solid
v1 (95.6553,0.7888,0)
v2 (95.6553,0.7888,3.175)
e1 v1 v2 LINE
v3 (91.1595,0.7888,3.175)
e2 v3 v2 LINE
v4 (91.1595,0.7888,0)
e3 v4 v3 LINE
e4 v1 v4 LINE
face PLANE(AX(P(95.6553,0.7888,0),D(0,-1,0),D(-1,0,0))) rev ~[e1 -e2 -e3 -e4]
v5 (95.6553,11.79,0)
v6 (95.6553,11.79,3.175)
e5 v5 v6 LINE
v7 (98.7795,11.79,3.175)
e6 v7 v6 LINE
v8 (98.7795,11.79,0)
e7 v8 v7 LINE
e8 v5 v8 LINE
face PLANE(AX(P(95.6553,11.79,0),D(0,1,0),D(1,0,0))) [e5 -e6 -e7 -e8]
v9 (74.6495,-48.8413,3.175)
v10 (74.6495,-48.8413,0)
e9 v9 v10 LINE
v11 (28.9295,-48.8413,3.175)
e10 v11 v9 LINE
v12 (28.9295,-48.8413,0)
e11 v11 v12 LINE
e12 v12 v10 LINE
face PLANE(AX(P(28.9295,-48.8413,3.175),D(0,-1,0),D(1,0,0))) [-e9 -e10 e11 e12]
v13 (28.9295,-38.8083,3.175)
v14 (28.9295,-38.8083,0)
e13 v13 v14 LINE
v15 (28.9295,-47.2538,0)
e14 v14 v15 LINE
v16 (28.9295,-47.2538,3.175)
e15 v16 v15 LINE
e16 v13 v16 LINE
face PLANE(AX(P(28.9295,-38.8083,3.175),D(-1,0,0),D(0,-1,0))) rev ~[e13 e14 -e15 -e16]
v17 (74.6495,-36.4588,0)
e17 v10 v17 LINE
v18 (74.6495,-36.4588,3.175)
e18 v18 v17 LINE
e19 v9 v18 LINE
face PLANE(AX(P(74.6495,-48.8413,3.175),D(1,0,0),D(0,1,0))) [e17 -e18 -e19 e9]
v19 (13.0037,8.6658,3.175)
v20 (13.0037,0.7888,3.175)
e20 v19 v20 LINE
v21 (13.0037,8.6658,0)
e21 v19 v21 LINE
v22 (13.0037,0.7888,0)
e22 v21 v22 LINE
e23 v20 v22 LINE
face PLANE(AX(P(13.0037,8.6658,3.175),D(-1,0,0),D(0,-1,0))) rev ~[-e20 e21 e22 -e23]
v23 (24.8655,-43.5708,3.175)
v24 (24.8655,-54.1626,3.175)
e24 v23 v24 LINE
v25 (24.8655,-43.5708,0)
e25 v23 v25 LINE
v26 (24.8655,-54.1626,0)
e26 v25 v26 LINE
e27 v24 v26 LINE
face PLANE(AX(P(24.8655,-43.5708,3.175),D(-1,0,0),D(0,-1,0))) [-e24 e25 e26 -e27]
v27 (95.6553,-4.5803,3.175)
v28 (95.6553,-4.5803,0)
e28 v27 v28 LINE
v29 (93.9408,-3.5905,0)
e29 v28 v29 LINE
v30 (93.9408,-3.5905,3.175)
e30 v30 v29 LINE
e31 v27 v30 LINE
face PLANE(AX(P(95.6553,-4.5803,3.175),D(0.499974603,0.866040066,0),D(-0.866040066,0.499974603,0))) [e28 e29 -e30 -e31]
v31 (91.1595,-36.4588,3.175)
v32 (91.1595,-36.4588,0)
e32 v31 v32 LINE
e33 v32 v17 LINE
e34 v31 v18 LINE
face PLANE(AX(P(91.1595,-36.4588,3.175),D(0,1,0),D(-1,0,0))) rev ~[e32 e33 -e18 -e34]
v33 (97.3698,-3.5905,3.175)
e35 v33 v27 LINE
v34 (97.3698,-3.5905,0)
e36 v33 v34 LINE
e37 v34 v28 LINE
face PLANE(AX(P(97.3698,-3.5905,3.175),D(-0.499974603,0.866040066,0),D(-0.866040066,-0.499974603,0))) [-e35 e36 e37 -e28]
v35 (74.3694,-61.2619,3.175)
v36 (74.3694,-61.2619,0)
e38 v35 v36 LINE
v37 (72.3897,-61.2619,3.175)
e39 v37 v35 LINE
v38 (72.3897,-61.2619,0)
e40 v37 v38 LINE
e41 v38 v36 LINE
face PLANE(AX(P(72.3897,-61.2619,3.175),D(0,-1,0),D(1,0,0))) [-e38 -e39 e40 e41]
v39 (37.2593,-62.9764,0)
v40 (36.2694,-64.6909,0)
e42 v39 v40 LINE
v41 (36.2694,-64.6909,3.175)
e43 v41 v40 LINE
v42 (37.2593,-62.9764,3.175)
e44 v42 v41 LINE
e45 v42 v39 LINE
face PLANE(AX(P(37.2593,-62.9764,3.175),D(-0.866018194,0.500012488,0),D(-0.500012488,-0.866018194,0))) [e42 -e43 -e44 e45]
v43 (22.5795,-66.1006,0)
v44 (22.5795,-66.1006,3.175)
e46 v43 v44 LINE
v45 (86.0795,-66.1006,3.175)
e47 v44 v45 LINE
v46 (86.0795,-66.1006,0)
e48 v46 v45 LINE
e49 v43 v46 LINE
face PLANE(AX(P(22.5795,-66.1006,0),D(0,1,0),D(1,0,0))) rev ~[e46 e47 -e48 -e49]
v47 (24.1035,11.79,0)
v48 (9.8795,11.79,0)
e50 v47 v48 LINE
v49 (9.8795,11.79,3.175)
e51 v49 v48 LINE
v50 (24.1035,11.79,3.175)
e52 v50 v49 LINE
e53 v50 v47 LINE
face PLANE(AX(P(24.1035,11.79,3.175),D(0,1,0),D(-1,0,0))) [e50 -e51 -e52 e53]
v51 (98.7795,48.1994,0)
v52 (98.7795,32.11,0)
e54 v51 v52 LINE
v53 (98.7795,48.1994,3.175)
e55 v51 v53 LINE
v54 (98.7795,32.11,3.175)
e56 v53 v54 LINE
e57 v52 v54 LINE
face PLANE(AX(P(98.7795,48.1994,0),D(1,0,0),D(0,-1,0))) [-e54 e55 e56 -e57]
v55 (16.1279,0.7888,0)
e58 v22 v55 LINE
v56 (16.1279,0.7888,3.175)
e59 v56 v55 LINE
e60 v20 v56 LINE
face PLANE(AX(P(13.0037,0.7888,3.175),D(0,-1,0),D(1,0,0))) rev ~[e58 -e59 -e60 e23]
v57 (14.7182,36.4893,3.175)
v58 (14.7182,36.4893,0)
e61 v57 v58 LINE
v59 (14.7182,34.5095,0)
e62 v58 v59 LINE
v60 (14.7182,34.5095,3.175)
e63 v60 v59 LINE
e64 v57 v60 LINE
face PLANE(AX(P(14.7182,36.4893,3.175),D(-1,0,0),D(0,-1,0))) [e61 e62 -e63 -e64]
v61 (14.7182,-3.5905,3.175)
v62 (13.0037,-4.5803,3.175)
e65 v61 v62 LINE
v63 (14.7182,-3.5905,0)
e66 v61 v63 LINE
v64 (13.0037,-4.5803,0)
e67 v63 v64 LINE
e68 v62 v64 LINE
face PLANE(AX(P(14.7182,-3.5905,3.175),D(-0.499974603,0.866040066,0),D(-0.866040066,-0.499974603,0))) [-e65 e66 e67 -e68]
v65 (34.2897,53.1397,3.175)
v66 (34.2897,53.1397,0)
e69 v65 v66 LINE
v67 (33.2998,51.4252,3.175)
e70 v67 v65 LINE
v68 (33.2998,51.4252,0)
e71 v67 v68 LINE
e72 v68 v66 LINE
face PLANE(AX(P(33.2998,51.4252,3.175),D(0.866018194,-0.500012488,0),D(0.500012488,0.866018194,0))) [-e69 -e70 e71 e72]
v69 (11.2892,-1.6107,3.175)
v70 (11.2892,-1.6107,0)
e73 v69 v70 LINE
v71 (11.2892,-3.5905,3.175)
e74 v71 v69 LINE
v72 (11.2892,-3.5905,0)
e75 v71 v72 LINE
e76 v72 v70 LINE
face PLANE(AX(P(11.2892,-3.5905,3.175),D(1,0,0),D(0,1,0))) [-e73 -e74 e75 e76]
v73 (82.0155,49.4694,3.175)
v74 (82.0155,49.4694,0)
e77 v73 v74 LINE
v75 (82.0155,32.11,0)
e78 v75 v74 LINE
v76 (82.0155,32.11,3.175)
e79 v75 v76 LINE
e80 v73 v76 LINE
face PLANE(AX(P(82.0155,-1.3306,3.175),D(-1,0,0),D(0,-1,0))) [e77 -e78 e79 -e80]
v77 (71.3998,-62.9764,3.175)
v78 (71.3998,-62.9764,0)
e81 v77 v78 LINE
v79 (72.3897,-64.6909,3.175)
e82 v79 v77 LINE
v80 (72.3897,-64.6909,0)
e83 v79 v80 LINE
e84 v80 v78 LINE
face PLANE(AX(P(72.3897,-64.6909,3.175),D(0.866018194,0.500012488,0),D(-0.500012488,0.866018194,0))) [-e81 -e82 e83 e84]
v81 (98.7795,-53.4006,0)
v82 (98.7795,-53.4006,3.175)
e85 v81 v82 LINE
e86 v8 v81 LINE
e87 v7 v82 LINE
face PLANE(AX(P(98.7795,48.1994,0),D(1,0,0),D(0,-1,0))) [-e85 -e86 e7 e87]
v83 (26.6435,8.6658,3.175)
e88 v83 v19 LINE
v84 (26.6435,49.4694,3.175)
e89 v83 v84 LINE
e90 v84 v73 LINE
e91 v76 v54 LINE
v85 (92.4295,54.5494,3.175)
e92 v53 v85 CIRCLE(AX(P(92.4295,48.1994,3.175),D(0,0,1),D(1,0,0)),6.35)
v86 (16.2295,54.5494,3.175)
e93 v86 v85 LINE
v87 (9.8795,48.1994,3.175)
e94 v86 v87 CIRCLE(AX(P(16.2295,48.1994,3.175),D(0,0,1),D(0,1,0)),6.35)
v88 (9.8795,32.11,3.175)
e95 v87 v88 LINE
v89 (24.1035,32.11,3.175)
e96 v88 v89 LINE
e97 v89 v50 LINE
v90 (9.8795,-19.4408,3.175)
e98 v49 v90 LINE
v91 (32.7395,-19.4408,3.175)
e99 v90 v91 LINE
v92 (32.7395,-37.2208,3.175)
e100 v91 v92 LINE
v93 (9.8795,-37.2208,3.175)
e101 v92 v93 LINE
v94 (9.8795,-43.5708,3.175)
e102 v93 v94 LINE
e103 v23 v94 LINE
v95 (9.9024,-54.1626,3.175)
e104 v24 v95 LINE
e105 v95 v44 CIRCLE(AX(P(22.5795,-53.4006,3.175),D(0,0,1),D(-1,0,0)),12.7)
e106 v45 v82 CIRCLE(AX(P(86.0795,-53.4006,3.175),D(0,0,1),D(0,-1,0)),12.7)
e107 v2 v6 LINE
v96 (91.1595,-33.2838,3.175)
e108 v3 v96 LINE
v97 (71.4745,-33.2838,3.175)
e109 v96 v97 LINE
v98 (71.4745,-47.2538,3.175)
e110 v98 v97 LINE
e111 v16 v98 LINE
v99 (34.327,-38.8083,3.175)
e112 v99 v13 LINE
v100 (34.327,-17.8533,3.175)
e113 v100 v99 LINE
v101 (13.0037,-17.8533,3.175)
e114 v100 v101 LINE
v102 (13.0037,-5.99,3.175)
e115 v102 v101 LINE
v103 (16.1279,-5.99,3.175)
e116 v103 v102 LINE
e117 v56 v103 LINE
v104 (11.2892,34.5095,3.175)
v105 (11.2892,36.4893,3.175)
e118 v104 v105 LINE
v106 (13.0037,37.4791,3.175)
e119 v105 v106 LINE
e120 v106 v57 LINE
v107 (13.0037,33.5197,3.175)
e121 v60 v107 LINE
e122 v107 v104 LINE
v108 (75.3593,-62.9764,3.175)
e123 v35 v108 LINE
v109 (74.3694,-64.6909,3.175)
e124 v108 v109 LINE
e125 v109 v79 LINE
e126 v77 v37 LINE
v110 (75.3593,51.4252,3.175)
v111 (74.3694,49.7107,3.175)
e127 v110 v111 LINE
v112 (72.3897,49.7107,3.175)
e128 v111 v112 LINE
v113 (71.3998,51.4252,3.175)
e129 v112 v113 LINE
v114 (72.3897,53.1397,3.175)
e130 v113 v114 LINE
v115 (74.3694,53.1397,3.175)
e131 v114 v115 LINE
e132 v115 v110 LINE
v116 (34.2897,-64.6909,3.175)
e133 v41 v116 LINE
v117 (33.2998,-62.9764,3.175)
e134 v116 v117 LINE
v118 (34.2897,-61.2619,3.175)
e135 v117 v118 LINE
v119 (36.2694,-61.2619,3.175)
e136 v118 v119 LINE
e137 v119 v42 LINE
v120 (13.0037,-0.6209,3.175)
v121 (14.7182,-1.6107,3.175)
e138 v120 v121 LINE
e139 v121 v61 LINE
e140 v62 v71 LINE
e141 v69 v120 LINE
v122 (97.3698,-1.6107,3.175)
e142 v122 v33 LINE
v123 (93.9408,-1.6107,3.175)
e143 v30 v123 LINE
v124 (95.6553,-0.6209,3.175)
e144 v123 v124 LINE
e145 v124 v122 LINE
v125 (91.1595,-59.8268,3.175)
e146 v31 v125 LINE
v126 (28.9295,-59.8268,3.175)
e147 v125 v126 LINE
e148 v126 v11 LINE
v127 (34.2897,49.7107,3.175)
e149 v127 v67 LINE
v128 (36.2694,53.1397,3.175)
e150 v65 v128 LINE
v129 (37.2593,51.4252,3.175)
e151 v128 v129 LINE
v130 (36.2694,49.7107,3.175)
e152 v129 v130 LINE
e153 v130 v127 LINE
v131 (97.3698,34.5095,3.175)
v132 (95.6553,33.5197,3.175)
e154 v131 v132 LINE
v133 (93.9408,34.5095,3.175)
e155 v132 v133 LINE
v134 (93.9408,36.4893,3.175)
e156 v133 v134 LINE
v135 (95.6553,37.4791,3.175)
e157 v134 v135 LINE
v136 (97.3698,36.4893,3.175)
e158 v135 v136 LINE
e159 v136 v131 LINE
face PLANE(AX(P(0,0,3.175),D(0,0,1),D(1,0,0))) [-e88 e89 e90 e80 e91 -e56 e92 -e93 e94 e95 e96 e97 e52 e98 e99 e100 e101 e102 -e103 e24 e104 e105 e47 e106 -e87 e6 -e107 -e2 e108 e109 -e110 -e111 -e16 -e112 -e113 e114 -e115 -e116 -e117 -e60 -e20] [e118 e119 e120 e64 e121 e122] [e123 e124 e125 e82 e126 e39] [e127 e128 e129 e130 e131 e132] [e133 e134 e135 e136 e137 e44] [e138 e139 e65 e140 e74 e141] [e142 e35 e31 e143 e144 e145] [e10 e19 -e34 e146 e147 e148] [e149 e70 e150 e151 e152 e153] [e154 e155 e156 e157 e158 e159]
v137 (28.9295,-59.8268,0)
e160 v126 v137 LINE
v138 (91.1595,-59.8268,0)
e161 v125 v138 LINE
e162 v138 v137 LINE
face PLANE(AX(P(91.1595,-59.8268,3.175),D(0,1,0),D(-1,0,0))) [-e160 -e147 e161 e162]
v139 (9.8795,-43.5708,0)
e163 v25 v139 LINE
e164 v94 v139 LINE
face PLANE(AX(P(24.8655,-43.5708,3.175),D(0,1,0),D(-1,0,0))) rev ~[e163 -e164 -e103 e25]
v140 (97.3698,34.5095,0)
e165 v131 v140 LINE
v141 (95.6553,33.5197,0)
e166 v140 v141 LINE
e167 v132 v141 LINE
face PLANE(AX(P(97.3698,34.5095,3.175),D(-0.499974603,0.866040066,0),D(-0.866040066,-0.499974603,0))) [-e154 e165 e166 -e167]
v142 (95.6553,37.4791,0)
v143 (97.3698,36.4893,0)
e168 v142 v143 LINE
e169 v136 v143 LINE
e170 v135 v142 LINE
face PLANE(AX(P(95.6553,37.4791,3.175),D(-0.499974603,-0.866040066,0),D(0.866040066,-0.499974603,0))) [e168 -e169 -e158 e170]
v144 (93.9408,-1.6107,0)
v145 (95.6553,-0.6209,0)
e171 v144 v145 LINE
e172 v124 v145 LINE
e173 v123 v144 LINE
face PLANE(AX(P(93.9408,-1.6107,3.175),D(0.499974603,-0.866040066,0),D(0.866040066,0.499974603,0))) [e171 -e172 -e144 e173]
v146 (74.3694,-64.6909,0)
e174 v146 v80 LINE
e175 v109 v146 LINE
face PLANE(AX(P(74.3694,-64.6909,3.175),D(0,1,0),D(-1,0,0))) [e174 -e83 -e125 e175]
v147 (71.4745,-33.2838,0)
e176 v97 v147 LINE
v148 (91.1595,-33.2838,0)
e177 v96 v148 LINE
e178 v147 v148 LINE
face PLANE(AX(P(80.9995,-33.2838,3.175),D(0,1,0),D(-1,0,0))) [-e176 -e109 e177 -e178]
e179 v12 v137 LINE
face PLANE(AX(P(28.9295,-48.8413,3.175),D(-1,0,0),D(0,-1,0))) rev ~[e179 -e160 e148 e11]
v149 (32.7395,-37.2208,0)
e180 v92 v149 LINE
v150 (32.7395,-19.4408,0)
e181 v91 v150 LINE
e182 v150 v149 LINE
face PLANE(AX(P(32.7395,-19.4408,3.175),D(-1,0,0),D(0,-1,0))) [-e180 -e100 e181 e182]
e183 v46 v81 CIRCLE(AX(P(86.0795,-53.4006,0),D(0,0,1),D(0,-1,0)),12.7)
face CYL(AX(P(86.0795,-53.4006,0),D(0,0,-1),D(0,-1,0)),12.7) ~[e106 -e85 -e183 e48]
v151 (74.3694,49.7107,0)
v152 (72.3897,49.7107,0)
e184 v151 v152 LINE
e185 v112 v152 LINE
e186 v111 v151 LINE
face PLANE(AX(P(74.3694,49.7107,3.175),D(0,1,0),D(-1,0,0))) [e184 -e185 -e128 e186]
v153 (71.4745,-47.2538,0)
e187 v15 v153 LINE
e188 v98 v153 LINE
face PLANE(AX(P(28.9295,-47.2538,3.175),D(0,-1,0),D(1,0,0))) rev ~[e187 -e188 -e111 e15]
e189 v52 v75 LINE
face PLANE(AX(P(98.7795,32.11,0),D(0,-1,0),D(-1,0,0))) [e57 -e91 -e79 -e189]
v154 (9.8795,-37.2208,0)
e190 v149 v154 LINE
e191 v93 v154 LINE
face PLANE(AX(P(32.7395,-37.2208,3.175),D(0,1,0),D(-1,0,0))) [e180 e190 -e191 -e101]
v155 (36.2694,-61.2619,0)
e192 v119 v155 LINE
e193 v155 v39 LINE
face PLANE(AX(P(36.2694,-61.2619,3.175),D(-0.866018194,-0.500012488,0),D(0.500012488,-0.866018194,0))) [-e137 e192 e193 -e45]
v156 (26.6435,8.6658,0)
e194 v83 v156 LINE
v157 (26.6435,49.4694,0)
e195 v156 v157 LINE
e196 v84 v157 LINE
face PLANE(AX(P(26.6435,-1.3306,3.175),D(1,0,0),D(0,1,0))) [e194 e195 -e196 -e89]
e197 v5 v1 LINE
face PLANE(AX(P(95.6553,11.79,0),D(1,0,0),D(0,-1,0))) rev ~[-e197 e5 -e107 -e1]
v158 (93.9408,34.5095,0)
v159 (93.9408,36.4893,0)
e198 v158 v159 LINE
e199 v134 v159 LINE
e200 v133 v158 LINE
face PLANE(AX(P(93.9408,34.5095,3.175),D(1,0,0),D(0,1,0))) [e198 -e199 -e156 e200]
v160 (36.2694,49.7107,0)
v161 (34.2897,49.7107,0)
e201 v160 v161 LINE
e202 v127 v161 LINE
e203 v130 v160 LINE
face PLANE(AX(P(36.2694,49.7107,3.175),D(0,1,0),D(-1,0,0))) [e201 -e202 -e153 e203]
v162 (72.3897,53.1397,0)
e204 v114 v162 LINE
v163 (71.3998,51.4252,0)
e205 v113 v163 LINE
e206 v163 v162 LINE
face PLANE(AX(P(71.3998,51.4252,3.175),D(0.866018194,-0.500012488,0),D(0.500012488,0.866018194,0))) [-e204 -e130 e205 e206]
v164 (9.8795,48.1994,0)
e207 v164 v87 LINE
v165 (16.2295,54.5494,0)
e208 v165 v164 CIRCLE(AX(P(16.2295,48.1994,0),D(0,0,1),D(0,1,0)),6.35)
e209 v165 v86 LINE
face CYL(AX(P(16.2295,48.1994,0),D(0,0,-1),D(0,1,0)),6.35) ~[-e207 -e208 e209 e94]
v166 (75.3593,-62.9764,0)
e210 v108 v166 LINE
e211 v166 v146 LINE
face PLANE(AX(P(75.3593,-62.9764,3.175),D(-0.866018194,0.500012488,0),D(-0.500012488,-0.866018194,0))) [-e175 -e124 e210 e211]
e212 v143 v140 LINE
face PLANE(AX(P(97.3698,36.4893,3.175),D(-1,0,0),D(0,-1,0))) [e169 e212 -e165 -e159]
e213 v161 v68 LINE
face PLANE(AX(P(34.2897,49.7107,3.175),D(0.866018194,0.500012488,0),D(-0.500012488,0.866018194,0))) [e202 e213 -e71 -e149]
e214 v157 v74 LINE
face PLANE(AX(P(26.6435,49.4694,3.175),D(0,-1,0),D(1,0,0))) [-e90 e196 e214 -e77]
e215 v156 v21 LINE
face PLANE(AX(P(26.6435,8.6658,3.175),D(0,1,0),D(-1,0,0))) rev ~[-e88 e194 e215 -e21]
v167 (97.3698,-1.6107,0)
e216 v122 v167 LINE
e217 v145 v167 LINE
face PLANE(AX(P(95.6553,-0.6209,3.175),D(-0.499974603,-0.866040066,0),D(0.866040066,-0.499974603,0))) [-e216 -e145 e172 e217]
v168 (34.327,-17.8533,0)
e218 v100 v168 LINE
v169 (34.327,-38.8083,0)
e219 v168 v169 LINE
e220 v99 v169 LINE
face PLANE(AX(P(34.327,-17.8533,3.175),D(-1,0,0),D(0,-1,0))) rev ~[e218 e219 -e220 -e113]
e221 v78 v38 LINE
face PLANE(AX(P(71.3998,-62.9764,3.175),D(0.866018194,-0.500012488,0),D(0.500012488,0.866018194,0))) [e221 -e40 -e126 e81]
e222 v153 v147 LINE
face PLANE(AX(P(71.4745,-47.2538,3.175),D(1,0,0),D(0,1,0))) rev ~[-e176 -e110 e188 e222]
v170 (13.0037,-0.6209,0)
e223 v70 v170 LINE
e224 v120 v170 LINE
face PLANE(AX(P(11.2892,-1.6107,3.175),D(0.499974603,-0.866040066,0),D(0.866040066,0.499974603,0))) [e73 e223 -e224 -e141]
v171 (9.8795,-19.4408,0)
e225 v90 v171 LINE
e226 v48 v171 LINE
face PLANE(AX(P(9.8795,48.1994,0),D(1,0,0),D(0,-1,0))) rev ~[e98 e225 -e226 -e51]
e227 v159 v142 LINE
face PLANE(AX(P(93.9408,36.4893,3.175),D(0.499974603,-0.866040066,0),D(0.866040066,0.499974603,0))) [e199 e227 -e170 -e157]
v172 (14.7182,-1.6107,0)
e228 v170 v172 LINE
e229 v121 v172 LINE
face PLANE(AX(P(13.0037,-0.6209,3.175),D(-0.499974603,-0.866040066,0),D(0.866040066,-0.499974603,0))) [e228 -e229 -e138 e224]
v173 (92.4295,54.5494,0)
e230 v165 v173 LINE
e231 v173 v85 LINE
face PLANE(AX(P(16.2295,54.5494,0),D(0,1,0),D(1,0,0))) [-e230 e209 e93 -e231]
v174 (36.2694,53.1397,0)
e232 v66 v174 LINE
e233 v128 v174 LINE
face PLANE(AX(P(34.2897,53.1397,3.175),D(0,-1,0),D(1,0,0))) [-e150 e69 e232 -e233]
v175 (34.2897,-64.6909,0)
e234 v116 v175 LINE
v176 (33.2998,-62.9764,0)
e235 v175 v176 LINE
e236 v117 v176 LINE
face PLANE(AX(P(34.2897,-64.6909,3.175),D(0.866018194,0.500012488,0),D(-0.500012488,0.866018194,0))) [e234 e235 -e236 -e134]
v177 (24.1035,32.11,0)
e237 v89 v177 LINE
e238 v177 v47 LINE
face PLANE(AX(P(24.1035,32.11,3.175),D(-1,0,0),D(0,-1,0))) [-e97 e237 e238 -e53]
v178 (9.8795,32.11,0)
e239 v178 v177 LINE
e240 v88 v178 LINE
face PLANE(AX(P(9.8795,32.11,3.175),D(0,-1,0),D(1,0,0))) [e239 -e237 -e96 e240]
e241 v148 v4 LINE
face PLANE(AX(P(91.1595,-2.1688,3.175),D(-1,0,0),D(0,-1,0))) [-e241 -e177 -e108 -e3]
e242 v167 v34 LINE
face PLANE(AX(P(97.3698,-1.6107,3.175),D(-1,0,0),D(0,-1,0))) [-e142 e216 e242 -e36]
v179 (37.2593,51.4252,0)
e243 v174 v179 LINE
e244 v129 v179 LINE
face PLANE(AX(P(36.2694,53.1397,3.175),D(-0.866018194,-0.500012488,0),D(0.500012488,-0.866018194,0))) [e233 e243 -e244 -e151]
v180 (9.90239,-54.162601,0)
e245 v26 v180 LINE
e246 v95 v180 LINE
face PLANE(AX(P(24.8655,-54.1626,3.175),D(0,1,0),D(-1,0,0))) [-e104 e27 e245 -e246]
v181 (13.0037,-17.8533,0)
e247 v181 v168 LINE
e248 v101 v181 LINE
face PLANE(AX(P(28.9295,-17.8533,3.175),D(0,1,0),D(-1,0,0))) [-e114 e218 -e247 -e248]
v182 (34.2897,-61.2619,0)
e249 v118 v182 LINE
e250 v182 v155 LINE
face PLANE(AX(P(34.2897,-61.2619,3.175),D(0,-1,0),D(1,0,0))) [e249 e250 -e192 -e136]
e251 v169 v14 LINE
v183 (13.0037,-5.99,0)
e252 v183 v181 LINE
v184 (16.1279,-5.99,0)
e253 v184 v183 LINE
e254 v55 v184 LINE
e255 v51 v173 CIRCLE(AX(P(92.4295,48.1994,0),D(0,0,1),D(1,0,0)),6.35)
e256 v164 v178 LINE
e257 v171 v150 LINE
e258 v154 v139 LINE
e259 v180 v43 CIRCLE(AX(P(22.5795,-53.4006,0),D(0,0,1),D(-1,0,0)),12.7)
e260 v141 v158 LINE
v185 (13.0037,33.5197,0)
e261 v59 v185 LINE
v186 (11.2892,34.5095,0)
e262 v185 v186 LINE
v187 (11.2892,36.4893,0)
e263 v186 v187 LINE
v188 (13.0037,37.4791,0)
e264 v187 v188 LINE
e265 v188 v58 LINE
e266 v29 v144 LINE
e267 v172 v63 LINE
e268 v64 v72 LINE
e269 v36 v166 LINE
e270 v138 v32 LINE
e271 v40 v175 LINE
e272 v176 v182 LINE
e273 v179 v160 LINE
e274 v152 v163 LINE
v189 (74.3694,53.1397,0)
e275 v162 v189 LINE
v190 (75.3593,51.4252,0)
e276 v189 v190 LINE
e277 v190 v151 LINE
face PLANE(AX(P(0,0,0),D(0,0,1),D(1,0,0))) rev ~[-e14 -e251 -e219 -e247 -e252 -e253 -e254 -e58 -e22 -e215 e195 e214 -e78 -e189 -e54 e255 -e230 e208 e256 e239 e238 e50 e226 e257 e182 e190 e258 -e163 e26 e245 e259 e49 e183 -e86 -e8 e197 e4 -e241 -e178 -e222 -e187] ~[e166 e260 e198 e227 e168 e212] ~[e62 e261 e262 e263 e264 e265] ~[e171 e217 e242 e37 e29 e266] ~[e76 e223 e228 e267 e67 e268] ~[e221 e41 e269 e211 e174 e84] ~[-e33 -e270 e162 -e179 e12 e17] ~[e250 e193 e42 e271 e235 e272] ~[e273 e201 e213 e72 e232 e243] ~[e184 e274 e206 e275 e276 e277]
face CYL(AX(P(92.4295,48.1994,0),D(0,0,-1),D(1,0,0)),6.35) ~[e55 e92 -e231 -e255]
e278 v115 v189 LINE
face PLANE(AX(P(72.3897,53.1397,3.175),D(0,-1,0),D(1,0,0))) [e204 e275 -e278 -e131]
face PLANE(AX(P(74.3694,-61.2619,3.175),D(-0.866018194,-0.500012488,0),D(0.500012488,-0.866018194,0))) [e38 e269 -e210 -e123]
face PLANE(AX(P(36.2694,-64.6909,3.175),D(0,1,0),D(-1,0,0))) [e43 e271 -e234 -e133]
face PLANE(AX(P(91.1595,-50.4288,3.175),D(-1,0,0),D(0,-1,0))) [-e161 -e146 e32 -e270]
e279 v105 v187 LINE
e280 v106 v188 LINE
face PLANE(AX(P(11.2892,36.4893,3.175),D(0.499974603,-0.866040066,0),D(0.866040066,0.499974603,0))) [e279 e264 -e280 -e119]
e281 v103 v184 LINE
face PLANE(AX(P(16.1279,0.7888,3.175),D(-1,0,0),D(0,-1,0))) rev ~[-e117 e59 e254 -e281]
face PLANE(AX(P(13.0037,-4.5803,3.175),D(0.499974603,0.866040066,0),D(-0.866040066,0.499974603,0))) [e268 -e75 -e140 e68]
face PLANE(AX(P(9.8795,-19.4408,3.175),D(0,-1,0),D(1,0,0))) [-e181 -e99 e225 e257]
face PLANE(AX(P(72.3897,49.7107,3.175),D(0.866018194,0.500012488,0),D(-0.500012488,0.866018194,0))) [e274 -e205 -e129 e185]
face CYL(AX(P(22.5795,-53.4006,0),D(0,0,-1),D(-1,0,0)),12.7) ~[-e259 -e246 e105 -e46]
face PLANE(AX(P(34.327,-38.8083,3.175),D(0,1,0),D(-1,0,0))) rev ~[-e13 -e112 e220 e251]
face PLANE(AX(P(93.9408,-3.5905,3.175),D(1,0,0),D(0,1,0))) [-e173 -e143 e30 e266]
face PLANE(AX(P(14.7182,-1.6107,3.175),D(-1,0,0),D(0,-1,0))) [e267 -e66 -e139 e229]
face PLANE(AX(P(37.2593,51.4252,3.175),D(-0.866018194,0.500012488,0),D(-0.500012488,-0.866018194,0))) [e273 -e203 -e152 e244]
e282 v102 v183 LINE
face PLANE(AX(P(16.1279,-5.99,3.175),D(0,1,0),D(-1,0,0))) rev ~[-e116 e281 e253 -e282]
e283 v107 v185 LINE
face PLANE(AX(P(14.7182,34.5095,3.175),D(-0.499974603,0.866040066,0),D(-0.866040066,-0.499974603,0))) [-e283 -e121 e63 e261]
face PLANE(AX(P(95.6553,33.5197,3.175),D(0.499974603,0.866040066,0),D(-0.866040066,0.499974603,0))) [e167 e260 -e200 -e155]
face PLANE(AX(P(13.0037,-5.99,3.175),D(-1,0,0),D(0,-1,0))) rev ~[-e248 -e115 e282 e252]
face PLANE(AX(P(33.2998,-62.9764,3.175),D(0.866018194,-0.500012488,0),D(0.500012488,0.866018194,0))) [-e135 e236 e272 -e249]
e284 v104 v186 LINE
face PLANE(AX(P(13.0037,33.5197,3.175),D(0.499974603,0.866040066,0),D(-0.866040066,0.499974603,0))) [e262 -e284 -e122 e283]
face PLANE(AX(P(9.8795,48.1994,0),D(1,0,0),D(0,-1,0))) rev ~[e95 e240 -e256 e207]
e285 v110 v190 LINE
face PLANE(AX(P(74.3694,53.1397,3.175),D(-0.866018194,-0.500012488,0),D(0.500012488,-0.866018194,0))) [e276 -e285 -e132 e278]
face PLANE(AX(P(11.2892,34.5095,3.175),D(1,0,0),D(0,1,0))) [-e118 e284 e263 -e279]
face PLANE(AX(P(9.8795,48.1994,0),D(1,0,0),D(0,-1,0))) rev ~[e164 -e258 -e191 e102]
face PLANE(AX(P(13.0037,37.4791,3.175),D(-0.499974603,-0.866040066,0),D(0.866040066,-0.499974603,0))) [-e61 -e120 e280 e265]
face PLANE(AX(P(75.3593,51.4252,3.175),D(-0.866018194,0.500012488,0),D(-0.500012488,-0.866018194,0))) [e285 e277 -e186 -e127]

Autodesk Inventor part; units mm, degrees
ref_plane "YZ Plane" through (0, 0, 0) normal (1, 0, 0) x (0, 1, 0)
ref_plane "XZ Plane" through (0, 0, 0) normal (0, 1, 0) x (-1, 0, 0)
ref_plane "XY Plane" through (0, 0, 0) normal (0, 0, 1) x (1, 0, 0)
sketch "Sketch1" plane through (0, 0, 0) normal (0, 0, 1) x (1, 0, 0)
  line L0 (9.8795, 48.1994) -> (9.8795, -53.4006)
  line L1 (16.2295, 54.5494) -> (92.4295, 54.5494)
  line L2 (98.7795, 48.1994) -> (98.7795, -53.4006)
  line L3 (22.5795, -66.1006) -> (86.0795, -66.1006)
  arc A0 (9.8795, -53.4006) -> (22.5795, -66.1006) centre (22.5795, -53.4006) ccw
  arc A1 (16.2295, 54.5494) -> (9.8795, 48.1994) centre (16.2295, 48.1994) ccw
  arc A2 (98.7795, 48.1994) -> (92.4295, 54.5494) centre (92.4295, 48.1994) ccw
  arc A3 (86.0795, -66.1006) -> (98.7795, -53.4006) centre (86.0795, -53.4006) ccw
  point P0 (0, 0)
  dimension "d0" = 12.7
  dimension "d1" = 6.35
  dimension "d2" = 120.65
  dimension "d3" = 88.9
extrude "Extrusion1" add sketch "Sketch1" along normal blind 3.175
sketch "Sketch2" plane through (0, 0, 3.175) normal (0, 0, 1) x (1, 0, 0)
  line L0 (9.8795, -53.4006) -> (9.8795, 48.1994) projected
  line L1 (98.7795, 48.1994) -> (98.7795, -53.4006) projected
  line L2 (16.2295, 54.5494) -> (92.4295, 54.5494) projected
  line L3 (26.6435, 49.4694) -> (82.0155, 49.4694)
  line L4 (82.0155, 49.4694) -> (82.0155, -1.3306)
  line L5 (82.0155, -1.3306) -> (26.6435, -1.3306)
  line L6 (26.6435, -1.3306) -> (26.6435, 49.4694)
  point P0 (0, 0)
  dimension "d13" = 16.764
  dimension "d14" = 16.764
  dimension "d15" = 5.08
  dimension "d16" = 55.88
extrude "Extrusion2" cut sketch "Sketch2" against normal through all
sketch "Sketch3" plane through (0, 0, 3.175) normal (0, 0, 1) x (1, 0, 0)
  line L0 (9.8795, -53.4006) -> (9.8795, 48.1994) projected
  line L1 (86.0795, -66.1006) -> (22.5795, -66.1006) projected
  line L2 (9.8795, -19.4408) -> (32.7395, -19.4408)
  line L3 (32.7395, -19.4408) -> (32.7395, -37.2208)
  line L4 (32.7395, -37.2208) -> (9.8795, -37.2208)
  point P0 (0, 0)
  dimension "d20" = 28.8798
  dimension "d21" = 46.6598
  dimension "d22" = 22.86
extrude "Extrusion3" cut sketch "Sketch3" against normal through all
sketch "Sketch4" plane through (0, 0, 3.175) normal (0, 0, 1) x (1, 0, 0)
  line L0 (9.8795, -53.4006) -> (9.8795, -37.2208) projected
  arc A0 (9.8795, -53.4006) -> (22.5795, -66.1006) centre (22.5795, -53.4006) ccw projected
  line L1 (86.0795, -66.1006) -> (22.5795, -66.1006) projected
  line L2 (24.8655, -43.5708) -> (24.8655, -54.1626)
  line L3 (24.8655, -43.5708) -> (9.8795, -43.5708)
  line L4 (24.8655, -54.1626) -> (9.9024, -54.1626)
  point P0 (0, 0)
  dimension "d26" = 22.5298
  dimension "d27" = 14.986
  dimension "d28" = 11.938
extrude "Extrusion4" cut sketch "Sketch4" against normal through all
sketch "Sketch5" plane through (0, 0, 3.175) normal (0, 0, 1) x (1, 0, 0)
  line L0 (86.0795, -66.1006) -> (22.5795, -66.1006) projected
  line L1 (9.8795, -19.4408) -> (9.8795, 48.1994) projected
  line L2 (9.8795, -43.5708) -> (9.8795, -37.2208) projected
  line L3 (28.9295, -2.1688) -> (91.1595, -2.1688)
  line L4 (91.1595, -2.1688) -> (91.1595, -11.5668)
  line L5 (91.1595, -11.5668) -> (28.9295, -11.5668)
  line L6 (28.9295, -11.5668) -> (28.9295, -2.1688)
  line L7 (28.9295, -50.4288) -> (91.1595, -50.4288)
  line L8 (91.1595, -50.4288) -> (91.1595, -59.8268)
  line L9 (91.1595, -59.8268) -> (28.9295, -59.8268)
  line L10 (28.9295, -59.8268) -> (28.9295, -50.4288)
  point P0 (0, 0)
  dimension "d31" = 54.5338
  dimension "d32" = 9.398
  dimension "d33" = 62.23
  dimension "d34" = 19.05
  dimension "d35" = 19.05
  dimension "d36" = 6.2738
extrude "Extrusion5" cut sketch "Sketch5" against normal through all
sketch "Sketch6" plane through (0, 0, 3.175) normal (0, 0, 1) x (1, 0, 0)
  line L0 (74.6495, -11.5668) -> (28.9295, -11.5668)
  line L1 (28.9295, -50.4288) -> (74.6495, -50.4288)
  line L2 (74.6495, -50.4288) -> (74.6495, -11.5668)
  line L3 (28.9295, -59.8268) -> (28.9295, -50.4288) projected
  line L4 (28.9295, -11.5668) -> (28.9295, -50.4288)
  line L5 (28.9295, -47.2538) -> (71.4745, -47.2538)
  line L6 (9.8795, -19.4408) -> (32.7395, -19.4408) projected
  line L7 (32.7395, -19.4408) -> (32.7395, -37.2208) projected
  line L8 (32.7395, -37.2208) -> (9.8795, -37.2208) projected
  line L9 (28.9295, -17.8533) -> (34.327, -17.8533)
  line L10 (34.327, -17.8533) -> (34.327, -38.8083)
  line L11 (34.327, -38.8083) -> (28.9295, -38.8083)
  line L12 (91.1595, -11.5668) -> (28.9295, -11.5668) projected
  line L13 (28.9295, -50.4288) -> (91.1595, -50.4288) projected
  line L14 (91.1595, -50.4288) -> (91.1595, -36.4588)
  line L15 (91.1595, -36.4588) -> (74.6495, -36.4588)
  line L16 (28.9295, -14.7418) -> (74.6495, -14.7418)
  line L17 (28.9295, -48.8413) -> (74.6495, -48.8413)
  line L18 (71.4745, -47.2538) -> (71.4745, -33.2838)
  line L19 (71.4745, -33.2838) -> (74.6495, -33.2838)
  line L20 (91.1595, -50.4288) -> (74.6495, -50.4288)
  line L21 (98.7795, 48.1994) -> (98.7795, -53.4006) projected
  line L22 (86.0795, -66.1006) -> (22.5795, -66.1006) projected
  point P0 (0, 0)
  dimension "d46" = 3.175
  dimension "d49" = 1.5875
  dimension "d50" = 1.5875
  dimension "d51" = 1.5875
  dimension "d55" = 3.175
  dimension "d57" = 1.5875
  dimension "d58" = 3.175
  dimension "d61" = 3.175
  dimension "d67" = 24.13
  dimension "d165" = 32.8168
  dimension "d166" = 13.97
  dimension "d167" = 29.6418
  dimension "d168" = 27.305
extrude "Extrusion11" cut sketch "Sketch6" against normal through all contours L2 L19 L18 L5 L4 L11 L10 L9 L16 | L15 L14 L13 L2 | L2 L1 L4 L17
sketch "Sketch7" plane through (0, 0, 3.175) normal (0, 0, 1) x (1, 0, 0)
  line L0 (74.6495, -14.7418) -> (74.6495, -33.2838) projected
  line L1 (74.6495, -14.7418) -> (80.9995, -14.7418)
  line L2 (80.9995, -14.7418) -> (80.9995, -33.2838)
  line L3 (80.9995, -33.2838) -> (74.6495, -33.2838)
  point P0 (0, 0)
  dimension "d64" = 6.35
extrude "Extrusion12" cut sketch "Sketch7" against normal through all
sketch "Sketch8" plane through (0, 0, 3.175) normal (0, 0, 1) x (1, 0, 0)
  line L0 (86.0795, -66.1006) -> (22.5795, -66.1006) projected
  line L1 (98.7795, 48.1994) -> (98.7795, -53.4006) projected
  line L2 (16.2295, 54.5494) -> (92.4295, 54.5494) projected
  line L3 (9.8795, -19.4408) -> (9.8795, 48.1994) projected
  line L4 (9.8795, -43.5708) -> (9.8795, -37.2208) projected
  line L5 (36.2694, 53.1397) -> (37.2593, 51.4252)
  line L6 (37.2593, 51.4252) -> (36.2694, 49.7107)
  line L7 (36.2694, 49.7107) -> (34.2897, 49.7107)
  line L8 (34.2897, 49.7107) -> (33.2998, 51.4252)
  line L9 (33.2998, 51.4252) -> (34.2897, 53.1397)
  line L10 (34.2897, 53.1397) -> (36.2694, 53.1397)
  line L11 (37.2593, -62.9764) -> (36.2694, -64.6909)
  line L12 (36.2694, -64.6909) -> (34.2897, -64.6909)
  line L13 (34.2897, -64.6909) -> (33.2998, -62.9764)
  line L14 (33.2998, -62.9764) -> (34.2897, -61.2619)
  line L15 (34.2897, -61.2619) -> (36.2694, -61.2619)
  line L16 (36.2694, -61.2619) -> (37.2593, -62.9764)
  line L17 (74.3694, -64.6909) -> (72.3897, -64.6909)
  line L18 (72.3897, -64.6909) -> (71.3998, -62.9764)
  line L19 (71.3998, -62.9764) -> (72.3897, -61.2619)
  line L20 (72.3897, -61.2619) -> (74.3694, -61.2619)
  line L21 (74.3694, -61.2619) -> (75.3593, -62.9764)
  line L22 (75.3593, -62.9764) -> (74.3694, -64.6909)
  line L23 (74.3694, 53.1397) -> (75.3593, 51.4252)
  line L24 (75.3593, 51.4252) -> (74.3694, 49.7107)
  line L25 (74.3694, 49.7107) -> (72.3897, 49.7107)
  line L26 (72.3897, 49.7107) -> (71.3998, 51.4252)
  line L27 (71.3998, 51.4252) -> (72.3897, 53.1397)
  line L28 (72.3897, 53.1397) -> (74.3694, 53.1397)
  line L29 (13.0037, 33.5197) -> (11.2892, 34.5095)
  line L30 (11.2892, 34.5095) -> (11.2892, 36.4893)
  line L31 (11.2892, 36.4893) -> (13.0037, 37.4791)
  line L32 (13.0037, 37.4791) -> (14.7182, 36.4893)
  line L33 (14.7182, 36.4893) -> (14.7182, 34.5095)
  line L34 (14.7182, 34.5095) -> (13.0037, 33.5197)
  line L35 (13.0037, -4.5803) -> (11.2892, -3.5905)
  line L36 (11.2892, -3.5905) -> (11.2892, -1.6107)
  line L37 (11.2892, -1.6107) -> (13.0037, -0.6209)
  line L38 (13.0037, -0.6209) -> (14.7182, -1.6107)
  line L39 (14.7182, -1.6107) -> (14.7182, -3.5905)
  line L40 (14.7182, -3.5905) -> (13.0037, -4.5803)
  line L41 (95.6553, 33.5197) -> (93.9408, 34.5095)
  line L42 (93.9408, 34.5095) -> (93.9408, 36.4893)
  line L43 (93.9408, 36.4893) -> (95.6553, 37.4791)
  line L44 (95.6553, 37.4791) -> (97.3698, 36.4893)
  line L45 (97.3698, 36.4893) -> (97.3698, 34.5095)
  line L46 (97.3698, 34.5095) -> (95.6553, 33.5197)
  line L47 (97.3698, -1.6107) -> (97.3698, -3.5905)
  line L48 (97.3698, -3.5905) -> (95.6553, -4.5803)
  line L49 (95.6553, -4.5803) -> (93.9408, -3.5905)
  line L50 (93.9408, -3.5905) -> (93.9408, -1.6107)
  line L51 (93.9408, -1.6107) -> (95.6553, -0.6209)
  line L52 (95.6553, -0.6209) -> (97.3698, -1.6107)
  point P0 (0, 0)
  point P1 (35.2795, 51.4252)
  point P2 (35.2795, -62.9764)
  point P3 (73.3795, -62.9764)
  point P4 (73.3795, 51.4252)
  point P5 (13.0037, 35.4994)
  point P6 (13.0037, -2.6006)
  point P7 (95.6553, 35.4994)
  point P8 (95.6553, -2.6006)
  dimension "d68" = 3.429
  dimension "d70" = 3.429
  dimension "d73" = 3.429
  dimension "d75" = 25.4
  dimension "d76" = 25.4
  dimension "d77" = 25.4
  dimension "d78" = 3.429
  dimension "d80" = 25.4
  dimension "d81" = 38.1
  dimension "d84" = 38.1
  dimension "d87" = 19.05
  dimension "d89" = 117.5258
  dimension "d90" = 101.6
  dimension "d91" = 63.5
  dimension "d92" = 85.7758
  dimension "d93" = 63.5
  dimension "d96" = 3.1242
  dimension "d97" = 3.1242
  dimension "d98" = 3.1242
  dimension "d99" = 3.1242
extrude "Extrusion13" cut sketch "Sketch8" against normal through all
sketch "Sketch9" plane through (0, 0, 3.175) normal (0, 0, 1) x (1, 0, 0)
  line L0 (11.2892, 34.5095) -> (11.2892, 36.4893) projected
  line L1 (9.8795, -19.4408) -> (9.8795, 48.1994) projected
  line L2 (26.6435, -1.3306) -> (26.6435, 49.4694) projected
  line L3 (9.8795, 32.11) -> (24.1035, 32.11)
  line L4 (24.1035, 32.11) -> (24.1035, 11.79)
  line L5 (24.1035, 11.79) -> (9.8795, 11.79)
  line L6 (86.0795, -66.1006) -> (22.5795, -66.1006) projected
  line L7 (98.7795, 48.1994) -> (98.7795, -53.4006) projected
  line L8 (13.9435, 32.11) -> (13.9435, 11.79) construction
  point P0 (13.0037, 33.5197)
  point P1 (0, 0)
  dimension "d100" = 20.32
  dimension "d101" = 1.4097
  dimension "d102" = 1.4097
  dimension "d103" = 2.54
  dimension "d106" = 77.8906
  dimension "d107" = 10.16
  dimension "d108" = 74.676
extrude "Extrusion14" cut sketch "Sketch9" against normal through all
sketch "Sketch10" plane through (0, 0, 3.175) normal (0, 0, 1) x (1, 0, 0)
  line L0 (28.9295, -11.5668) -> (28.9295, -2.1688) projected
  line L1 (28.9295, -2.1688) -> (91.1595, -2.1688) projected
  line L2 (91.1595, -11.5668) -> (28.9295, -11.5668) projected
  line L3 (26.6435, -1.3306) -> (26.6435, 49.4694) projected
  line L4 (82.0155, -1.3306) -> (26.6435, -1.3306) projected
  line L5 (24.1035, 11.79) -> (9.8795, 11.79) projected
  line L6 (9.8795, -19.4408) -> (9.8795, 11.79) projected
  line L7 (9.8795, -19.4408) -> (32.7395, -19.4408) projected
  line L8 (28.9295, -17.8533) -> (28.9295, -14.7418) projected
  line L9 (28.9295, -14.7418) -> (80.9995, -14.7418) projected
  line L10 (11.2892, -3.5905) -> (11.2892, -1.6107) projected
  line L11 (14.7182, -1.6107) -> (14.7182, -3.5905) projected
  line L12 (26.6435, 8.6658) -> (13.0037, 8.6658)
  line L13 (13.0037, 8.6658) -> (13.0037, 0.7888)
  line L14 (13.0037, 0.7888) -> (16.1279, 0.7888)
  line L15 (16.1279, 0.7888) -> (16.1279, -5.99)
  line L16 (16.1279, -5.99) -> (13.0037, -5.99)
  line L17 (13.0037, -5.99) -> (13.0037, -19.4408)
  line L18 (28.9295, -17.8533) -> (13.0037, -17.8533)
  line L19 (82.0155, -1.3306) -> (82.0155, -2.1688)
  line L20 (80.9995, -14.7418) -> (80.9995, -11.5668)
  point P0 (13.0037, -4.5803)
  point P1 (13.0037, -0.6209)
  point P2 (0, 0)
  dimension "d110" = 1.4097
  dimension "d111" = 1.4097
  dimension "d113" = 1.4097
  dimension "d114" = 1.4097
  dimension "d115" = 3.1242
  dimension "d116" = 3.1242
  dimension "d117" = 3.1242
extrude "Extrusion15" cut sketch "Sketch10" against normal through all
sketch "Sketch11" plane through (0, 0, 3.175) normal (0, 0, 1) x (1, 0, 0)
  line L0 (91.1595, -11.5668) -> (80.9995, -11.5668) projected
  line L1 (80.9995, -11.5668) -> (80.9995, -33.2838) projected
  line L2 (91.1595, -11.5668) -> (91.1595, -33.2838)
  line L3 (91.1595, -33.2838) -> (80.9995, -33.2838)
  point P0 (0, 0)
extrude "Extrusion16" cut sketch "Sketch11" against normal through all
sketch "Sketch13" plane through (0, 0, 0) normal (0, 0, -1) x (-1, 0, 0)
  line L0 (-91.1595, -33.2838) -> (-91.1595, -2.1688) projected
  line L1 (-91.1595, -2.1688) -> (-82.0155, -2.1688) projected
  line L2 (-82.0155, -2.1688) -> (-82.0155, 49.4694) projected
  line L3 (-82.0155, 49.4694) -> (-26.6435, 49.4694) projected
  line L4 (-26.6435, 49.4694) -> (-26.6435, 8.6658) projected
  line L5 (-26.6435, 8.6658) -> (-13.0037, 8.6658) projected
  line L6 (-13.0037, 8.6658) -> (-13.0037, 0.7888) projected
  line L7 (-13.0037, 0.7888) -> (-16.1279, 0.7888) projected
  line L8 (-16.1279, 0.7888) -> (-16.1279, -5.99) projected
  line L9 (-16.1279, -5.99) -> (-13.0037, -5.99) projected
  line L10 (-13.0037, -5.99) -> (-13.0037, -17.8533) projected
  line L11 (-13.0037, -17.8533) -> (-34.327, -17.8533) projected
  line L12 (-34.327, -17.8533) -> (-34.327, -38.8083) projected
  line L13 (-34.327, -38.8083) -> (-28.9295, -38.8083) projected
  line L14 (-28.9295, -38.8083) -> (-28.9295, -47.2538) projected
  line L15 (-28.9295, -47.2538) -> (-71.4745, -47.2538) projected
  line L16 (-71.4745, -47.2538) -> (-71.4745, -33.2838) projected
  line L17 (-71.4745, -33.2838) -> (-91.1595, -33.2838) projected
  line L18 (-24.1035, 32.11) -> (-9.8795, 32.11) projected
  line L19 (-9.8795, 48.1994) -> (-9.8795, 32.11) projected
  arc A0 (-9.8795, 48.1994) -> (-16.2295, 54.5494) centre (-16.2295, 48.1994) ccw projected
  line L20 (-92.4295, 54.5494) -> (-16.2295, 54.5494) projected
  arc A1 (-92.4295, 54.5494) -> (-98.7795, 48.1994) centre (-92.4295, 48.1994) ccw projected
  line L21 (-98.7795, -53.4006) -> (-98.7795, 48.1994) projected
  arc A2 (-98.7795, -53.4006) -> (-86.0795, -66.1006) centre (-86.0795, -53.4006) ccw projected
  line L22 (-22.5795, -66.1006) -> (-86.0795, -66.1006) projected
  arc A3 (-22.5795, -66.1006) -> (-9.9024, -54.1626) centre (-22.5795, -53.4006) ccw projected
  line L23 (-9.9024, -54.1626) -> (-24.8655, -54.1626) projected
  line L24 (-24.8655, -54.1626) -> (-24.8655, -43.5708) projected
  line L25 (-24.8655, -43.5708) -> (-9.8795, -43.5708) projected
  line L26 (-9.8795, -37.2208) -> (-9.8795, -43.5708) projected
  line L27 (-9.8795, -37.2208) -> (-32.7395, -37.2208) projected
  line L28 (-32.7395, -37.2208) -> (-32.7395, -19.4408) projected
  line L29 (-32.7395, -19.4408) -> (-9.8795, -19.4408) projected
  line L30 (-9.8795, 11.79) -> (-9.8795, -19.4408) projected
  line L31 (-9.8795, 11.79) -> (-24.1035, 11.79) projected
  line L32 (-24.1035, 11.79) -> (-24.1035, 32.11) projected
  line L33 (-74.3694, 53.1397) -> (-72.3897, 53.1397) projected
  line L34 (-72.3897, 53.1397) -> (-71.3998, 51.4252) projected
  line L35 (-71.3998, 51.4252) -> (-72.3897, 49.7107) projected
  line L36 (-72.3897, 49.7107) -> (-74.3694, 49.7107) projected
  line L37 (-74.3694, 49.7107) -> (-75.3593, 51.4252) projected
  line L38 (-75.3593, 51.4252) -> (-74.3694, 53.1397) projected
  line L39 (-36.2694, 53.1397) -> (-34.2897, 53.1397) projected
  line L40 (-34.2897, 53.1397) -> (-33.2998, 51.4252) projected
  line L41 (-33.2998, 51.4252) -> (-34.2897, 49.7107) projected
  line L42 (-34.2897, 49.7107) -> (-36.2694, 49.7107) projected
  line L43 (-36.2694, 49.7107) -> (-37.2593, 51.4252) projected
  line L44 (-37.2593, 51.4252) -> (-36.2694, 53.1397) projected
  line L45 (-13.0037, 33.5197) -> (-14.7182, 34.5095) projected
  line L46 (-14.7182, 34.5095) -> (-14.7182, 36.4893) projected
  line L47 (-14.7182, 36.4893) -> (-13.0037, 37.4791) projected
  line L48 (-13.0037, 37.4791) -> (-11.2892, 36.4893) projected
  line L49 (-11.2892, 36.4893) -> (-11.2892, 34.5095) projected
  line L50 (-11.2892, 34.5095) -> (-13.0037, 33.5197) projected
  line L51 (-13.0037, -4.5803) -> (-14.7182, -3.5905) projected
  line L52 (-14.7182, -3.5905) -> (-14.7182, -1.6107) projected
  line L53 (-14.7182, -1.6107) -> (-13.0037, -0.6209) projected
  line L54 (-13.0037, -0.6209) -> (-11.2892, -1.6107) projected
  line L55 (-11.2892, -1.6107) -> (-11.2892, -3.5905) projected
  line L56 (-11.2892, -3.5905) -> (-13.0037, -4.5803) projected
  line L57 (-95.6553, 33.5197) -> (-97.3698, 34.5095) projected
  line L58 (-97.3698, 34.5095) -> (-97.3698, 36.4893) projected
  line L59 (-97.3698, 36.4893) -> (-95.6553, 37.4791) projected
  line L60 (-95.6553, 37.4791) -> (-93.9408, 36.4893) projected
  line L61 (-93.9408, 36.4893) -> (-93.9408, 34.5095) projected
  line L62 (-93.9408, 34.5095) -> (-95.6553, 33.5197) projected
  line L63 (-74.3694, -64.6909) -> (-75.3593, -62.9764) projected
  line L64 (-75.3593, -62.9764) -> (-74.3694, -61.2619) projected
  line L65 (-74.3694, -61.2619) -> (-72.3897, -61.2619) projected
  line L66 (-72.3897, -61.2619) -> (-71.3998, -62.9764) projected
  line L67 (-71.3998, -62.9764) -> (-72.3897, -64.6909) projected
  line L68 (-72.3897, -64.6909) -> (-74.3694, -64.6909) projected
  line L69 (-37.2593, -62.9764) -> (-36.2694, -61.2619) projected
  line L70 (-36.2694, -61.2619) -> (-34.2897, -61.2619) projected
  line L71 (-34.2897, -61.2619) -> (-33.2998, -62.9764) projected
  line L72 (-33.2998, -62.9764) -> (-34.2897, -64.6909) projected
  line L73 (-34.2897, -64.6909) -> (-36.2694, -64.6909) projected
  line L74 (-36.2694, -64.6909) -> (-37.2593, -62.9764) projected
  line L75 (-97.3698, -1.6107) -> (-95.6553, -0.6209) projected
  line L76 (-95.6553, -0.6209) -> (-93.9408, -1.6107) projected
  line L77 (-93.9408, -1.6107) -> (-93.9408, -3.5905) projected
  line L78 (-93.9408, -3.5905) -> (-95.6553, -4.5803) projected
  line L79 (-95.6553, -4.5803) -> (-97.3698, -3.5905) projected
  line L80 (-97.3698, -3.5905) -> (-97.3698, -1.6107) projected
  line L81 (-28.9295, -48.8413) -> (-28.9295, -59.8268) projected
  line L82 (-28.9295, -59.8268) -> (-91.1595, -59.8268) projected
  line L83 (-91.1595, -59.8268) -> (-91.1595, -36.4588) projected
  line L84 (-91.1595, -36.4588) -> (-74.6495, -36.4588) projected
  line L85 (-74.6495, -36.4588) -> (-74.6495, -48.8413) projected
  line L86 (-74.6495, -48.8413) -> (-28.9295, -48.8413) projected
  point P0 (0, 0)
  dimension "d122" = 72.136
  dimension "d123" = 74.7664
  dimension "d124" = 85.7758
  dimension "d125" = 82.6516
  dimension "d126" = 64.4525
  dimension "d127" = 69.85
  dimension "d128" = 27.2923
  dimension "d129" = 48.2473
  dimension "d130" = 60.1106
  dimension "d131" = 66.8894
  dimension "d132" = 74.676
  dimension "d133" = 77.8906
  dimension "d134" = 98.2106
  dimension "d135" = 46.6598
  dimension "d136" = 66.04
  dimension "d137" = 28.8798
  dimension "d138" = 22.5298
  dimension "d139" = 11.938
  dimension "d140" = 16.764
  dimension "d141" = 7.62
  dimension "d142" = 63.9318
  dimension "d143" = 32.8168
  dimension "d144" = 29.6418
  dimension "d145" = 24.13
  dimension "d146" = 27.305
  dimension "d147" = 17.2593
  dimension "d148" = 18.8468
  dimension "d149" = 115.57
sketch "Sketch14" plane through (0, 0, 0) normal (0, 0, -1) x (-1, 0, 0)
  line L0 (-91.1595, -2.1688) -> (-82.0155, -2.1688) projected
  line L1 (-82.0155, -2.1688) -> (-82.0155, 49.4694) projected
  line L2 (-98.7795, -53.4006) -> (-98.7795, 48.1994) projected
  line L3 (-97.3698, 34.5095) -> (-97.3698, 36.4893) projected
  line L4 (-97.3698, -3.5905) -> (-97.3698, -1.6107) projected
  line L5 (-98.7795, 32.11) -> (-82.0155, 32.11)
  line L6 (-95.6553, 11.79) -> (-98.7795, 11.79)
  line L7 (-95.6553, 11.79) -> (-95.6553, 0.7888)
  line L8 (-95.6553, 0.7888) -> (-91.1595, 0.7888)
  line L9 (-91.1595, 0.7888) -> (-91.1595, -2.1688)
  point P0 (-95.6553, 33.5197)
  point P1 (-95.6553, -0.6209)
  point P2 (0, 0)
  dimension "d151" = 1.4097
  dimension "d152" = 1.4097
  dimension "d153" = 1.4097
  dimension "d155" = 20.32
  dimension "d156" = 1.4097
extrude "Extrusion17" cut sketch "Sketch14" against normal through all
sketch "Sketch15" plane through (0, 0, 0) normal (0, 0, -1) x (-1, 0, 0)
  line L0 (-95.6553, 11.79) -> (-98.7795, 11.79) projected
  line L1 (-98.7795, -53.4006) -> (-98.7795, 11.79) projected
  arc A0 (-98.7795, -53.4006) -> (-86.0795, -66.1006) centre (-86.0795, -53.4006) ccw projected
  line L2 (-22.5795, -66.1006) -> (-86.0795, -66.1006) projected
  arc A1 (-22.5795, -66.1006) -> (-9.9024, -54.1626) centre (-22.5795, -53.4006) ccw projected
  line L3 (-9.9024, -54.1626) -> (-24.8655, -54.1626) projected
  line L4 (-24.8655, -54.1626) -> (-24.8655, -43.5708) projected
  line L5 (-24.8655, -43.5708) -> (-9.8795, -43.5708) projected
  line L6 (-9.8795, -37.2208) -> (-9.8795, -43.5708) projected
  line L7 (-9.8795, -37.2208) -> (-32.7395, -37.2208) projected
  line L8 (-32.7395, -37.2208) -> (-32.7395, -19.4408) projected
  line L9 (-32.7395, -19.4408) -> (-9.8795, -19.4408) projected
  line L10 (-9.8795, 11.79) -> (-9.8795, -19.4408) projected
  line L11 (-9.8795, 11.79) -> (-24.1035, 11.79) projected
  line L12 (-24.1035, 11.79) -> (-24.1035, 32.11) projected
  line L13 (-24.1035, 32.11) -> (-9.8795, 32.11) projected
  line L14 (-9.8795, 48.1994) -> (-9.8795, 32.11) projected
  arc A2 (-9.8795, 48.1994) -> (-16.2295, 54.5494) centre (-16.2295, 48.1994) ccw projected
  line L15 (-92.4295, 54.5494) -> (-16.2295, 54.5494) projected
  arc A3 (-92.4295, 54.5494) -> (-98.7795, 48.1994) centre (-92.4295, 48.1994) ccw projected
  line L16 (-98.7795, 32.11) -> (-98.7795, 48.1994) projected
  line L17 (-98.7795, 32.11) -> (-82.0155, 32.11) projected
  line L18 (-82.0155, 32.11) -> (-82.0155, 49.4694) projected
  line L19 (-82.0155, 49.4694) -> (-26.6435, 49.4694) projected
  line L20 (-26.6435, 49.4694) -> (-26.6435, 8.6658) projected
  line L21 (-26.6435, 8.6658) -> (-13.0037, 8.6658) projected
  line L22 (-13.0037, 8.6658) -> (-13.0037, 0.7888) projected
  line L23 (-13.0037, 0.7888) -> (-16.1279, 0.7888) projected
  line L24 (-16.1279, 0.7888) -> (-16.1279, -5.99) projected
  line L25 (-16.1279, -5.99) -> (-13.0037, -5.99) projected
  line L26 (-13.0037, -5.99) -> (-13.0037, -17.8533) projected
  line L27 (-13.0037, -17.8533) -> (-34.327, -17.8533) projected
  line L28 (-34.327, -17.8533) -> (-34.327, -38.8083) projected
  line L29 (-34.327, -38.8083) -> (-28.9295, -38.8083) projected
  line L30 (-28.9295, -38.8083) -> (-28.9295, -47.2538) projected
  line L31 (-28.9295, -47.2538) -> (-71.4745, -47.2538) projected
  line L32 (-71.4745, -47.2538) -> (-71.4745, -33.2838) projected
  line L33 (-71.4745, -33.2838) -> (-91.1595, -33.2838) projected
  line L34 (-91.1595, -33.2838) -> (-91.1595, 0.7888) projected
  line L35 (-91.1595, 0.7888) -> (-95.6553, 0.7888) projected
  line L36 (-95.6553, 0.7888) -> (-95.6553, 11.79) projected
  line L37 (-74.3694, 53.1397) -> (-72.3897, 53.1397) projected
  line L38 (-72.3897, 53.1397) -> (-71.3998, 51.4252) projected
  line L39 (-71.3998, 51.4252) -> (-72.3897, 49.7107) projected
  line L40 (-72.3897, 49.7107) -> (-74.3694, 49.7107) projected
  line L41 (-74.3694, 49.7107) -> (-75.3593, 51.4252) projected
  line L42 (-75.3593, 51.4252) -> (-74.3694, 53.1397) projected
  line L43 (-36.2694, 53.1397) -> (-34.2897, 53.1397) projected
  line L44 (-34.2897, 53.1397) -> (-33.2998, 51.4252) projected
  line L45 (-33.2998, 51.4252) -> (-34.2897, 49.7107) projected
  line L46 (-34.2897, 49.7107) -> (-36.2694, 49.7107) projected
  line L47 (-36.2694, 49.7107) -> (-37.2593, 51.4252) projected
  line L48 (-37.2593, 51.4252) -> (-36.2694, 53.1397) projected
  line L49 (-13.0037, 33.5197) -> (-14.7182, 34.5095) projected
  line L50 (-14.7182, 34.5095) -> (-14.7182, 36.4893) projected
  line L51 (-14.7182, 36.4893) -> (-13.0037, 37.4791) projected
  line L52 (-13.0037, 37.4791) -> (-11.2892, 36.4893) projected
  line L53 (-11.2892, 36.4893) -> (-11.2892, 34.5095) projected
  line L54 (-11.2892, 34.5095) -> (-13.0037, 33.5197) projected
  line L55 (-13.0037, -4.5803) -> (-14.7182, -3.5905) projected
  line L56 (-14.7182, -3.5905) -> (-14.7182, -1.6107) projected
  line L57 (-14.7182, -1.6107) -> (-13.0037, -0.6209) projected
  line L58 (-13.0037, -0.6209) -> (-11.2892, -1.6107) projected
  line L59 (-11.2892, -1.6107) -> (-11.2892, -3.5905) projected
  line L60 (-11.2892, -3.5905) -> (-13.0037, -4.5803) projected
  line L61 (-95.6553, 33.5197) -> (-97.3698, 34.5095) projected
  line L62 (-97.3698, 34.5095) -> (-97.3698, 36.4893) projected
  line L63 (-97.3698, 36.4893) -> (-95.6553, 37.4791) projected
  line L64 (-95.6553, 37.4791) -> (-93.9408, 36.4893) projected
  line L65 (-93.9408, 36.4893) -> (-93.9408, 34.5095) projected
  line L66 (-93.9408, 34.5095) -> (-95.6553, 33.5197) projected
  line L67 (-74.3694, -64.6909) -> (-75.3593, -62.9764) projected
  line L68 (-75.3593, -62.9764) -> (-74.3694, -61.2619) projected
  line L69 (-74.3694, -61.2619) -> (-72.3897, -61.2619) projected
  line L70 (-72.3897, -61.2619) -> (-71.3998, -62.9764) projected
  line L71 (-71.3998, -62.9764) -> (-72.3897, -64.6909) projected
  line L72 (-72.3897, -64.6909) -> (-74.3694, -64.6909) projected
  line L73 (-37.2593, -62.9764) -> (-36.2694, -61.2619) projected
  line L74 (-36.2694, -61.2619) -> (-34.2897, -61.2619) projected
  line L75 (-34.2897, -61.2619) -> (-33.2998, -62.9764) projected
  line L76 (-33.2998, -62.9764) -> (-34.2897, -64.6909) projected
  line L77 (-34.2897, -64.6909) -> (-36.2694, -64.6909) projected
  line L78 (-36.2694, -64.6909) -> (-37.2593, -62.9764) projected
  line L79 (-97.3698, -1.6107) -> (-95.6553, -0.6209) projected
  line L80 (-95.6553, -0.6209) -> (-93.9408, -1.6107) projected
  line L81 (-93.9408, -1.6107) -> (-93.9408, -3.5905) projected
  line L82 (-93.9408, -3.5905) -> (-95.6553, -4.5803) projected
  line L83 (-95.6553, -4.5803) -> (-97.3698, -3.5905) projected
  line L84 (-97.3698, -3.5905) -> (-97.3698, -1.6107) projected
  line L85 (-28.9295, -48.8413) -> (-28.9295, -59.8268) projected
  line L86 (-28.9295, -59.8268) -> (-91.1595, -59.8268) projected
  line L87 (-91.1595, -59.8268) -> (-91.1595, -36.4588) projected
  line L88 (-91.1595, -36.4588) -> (-74.6495, -36.4588) projected
  line L89 (-74.6495, -36.4588) -> (-74.6495, -48.8413) projected
  line L90 (-74.6495, -48.8413) -> (-28.9295, -48.8413) projected
  point P0 (0, 0)
  dimension "d159" = 98.2106
  dimension "d160" = 16.764
  dimension "d161" = 77.8906
  dimension "d162" = 3.1242
  dimension "d163" = 66.8894
equation "\"d14\" = d13"
equation "\"d35\" = d34"
equation "\"d102\" = d101"
equation "\"d111\" = d110"
equation "\"d113\" = d110"
equation "\"d114\" = d110"
properties part number "beagle_spacer_top"
